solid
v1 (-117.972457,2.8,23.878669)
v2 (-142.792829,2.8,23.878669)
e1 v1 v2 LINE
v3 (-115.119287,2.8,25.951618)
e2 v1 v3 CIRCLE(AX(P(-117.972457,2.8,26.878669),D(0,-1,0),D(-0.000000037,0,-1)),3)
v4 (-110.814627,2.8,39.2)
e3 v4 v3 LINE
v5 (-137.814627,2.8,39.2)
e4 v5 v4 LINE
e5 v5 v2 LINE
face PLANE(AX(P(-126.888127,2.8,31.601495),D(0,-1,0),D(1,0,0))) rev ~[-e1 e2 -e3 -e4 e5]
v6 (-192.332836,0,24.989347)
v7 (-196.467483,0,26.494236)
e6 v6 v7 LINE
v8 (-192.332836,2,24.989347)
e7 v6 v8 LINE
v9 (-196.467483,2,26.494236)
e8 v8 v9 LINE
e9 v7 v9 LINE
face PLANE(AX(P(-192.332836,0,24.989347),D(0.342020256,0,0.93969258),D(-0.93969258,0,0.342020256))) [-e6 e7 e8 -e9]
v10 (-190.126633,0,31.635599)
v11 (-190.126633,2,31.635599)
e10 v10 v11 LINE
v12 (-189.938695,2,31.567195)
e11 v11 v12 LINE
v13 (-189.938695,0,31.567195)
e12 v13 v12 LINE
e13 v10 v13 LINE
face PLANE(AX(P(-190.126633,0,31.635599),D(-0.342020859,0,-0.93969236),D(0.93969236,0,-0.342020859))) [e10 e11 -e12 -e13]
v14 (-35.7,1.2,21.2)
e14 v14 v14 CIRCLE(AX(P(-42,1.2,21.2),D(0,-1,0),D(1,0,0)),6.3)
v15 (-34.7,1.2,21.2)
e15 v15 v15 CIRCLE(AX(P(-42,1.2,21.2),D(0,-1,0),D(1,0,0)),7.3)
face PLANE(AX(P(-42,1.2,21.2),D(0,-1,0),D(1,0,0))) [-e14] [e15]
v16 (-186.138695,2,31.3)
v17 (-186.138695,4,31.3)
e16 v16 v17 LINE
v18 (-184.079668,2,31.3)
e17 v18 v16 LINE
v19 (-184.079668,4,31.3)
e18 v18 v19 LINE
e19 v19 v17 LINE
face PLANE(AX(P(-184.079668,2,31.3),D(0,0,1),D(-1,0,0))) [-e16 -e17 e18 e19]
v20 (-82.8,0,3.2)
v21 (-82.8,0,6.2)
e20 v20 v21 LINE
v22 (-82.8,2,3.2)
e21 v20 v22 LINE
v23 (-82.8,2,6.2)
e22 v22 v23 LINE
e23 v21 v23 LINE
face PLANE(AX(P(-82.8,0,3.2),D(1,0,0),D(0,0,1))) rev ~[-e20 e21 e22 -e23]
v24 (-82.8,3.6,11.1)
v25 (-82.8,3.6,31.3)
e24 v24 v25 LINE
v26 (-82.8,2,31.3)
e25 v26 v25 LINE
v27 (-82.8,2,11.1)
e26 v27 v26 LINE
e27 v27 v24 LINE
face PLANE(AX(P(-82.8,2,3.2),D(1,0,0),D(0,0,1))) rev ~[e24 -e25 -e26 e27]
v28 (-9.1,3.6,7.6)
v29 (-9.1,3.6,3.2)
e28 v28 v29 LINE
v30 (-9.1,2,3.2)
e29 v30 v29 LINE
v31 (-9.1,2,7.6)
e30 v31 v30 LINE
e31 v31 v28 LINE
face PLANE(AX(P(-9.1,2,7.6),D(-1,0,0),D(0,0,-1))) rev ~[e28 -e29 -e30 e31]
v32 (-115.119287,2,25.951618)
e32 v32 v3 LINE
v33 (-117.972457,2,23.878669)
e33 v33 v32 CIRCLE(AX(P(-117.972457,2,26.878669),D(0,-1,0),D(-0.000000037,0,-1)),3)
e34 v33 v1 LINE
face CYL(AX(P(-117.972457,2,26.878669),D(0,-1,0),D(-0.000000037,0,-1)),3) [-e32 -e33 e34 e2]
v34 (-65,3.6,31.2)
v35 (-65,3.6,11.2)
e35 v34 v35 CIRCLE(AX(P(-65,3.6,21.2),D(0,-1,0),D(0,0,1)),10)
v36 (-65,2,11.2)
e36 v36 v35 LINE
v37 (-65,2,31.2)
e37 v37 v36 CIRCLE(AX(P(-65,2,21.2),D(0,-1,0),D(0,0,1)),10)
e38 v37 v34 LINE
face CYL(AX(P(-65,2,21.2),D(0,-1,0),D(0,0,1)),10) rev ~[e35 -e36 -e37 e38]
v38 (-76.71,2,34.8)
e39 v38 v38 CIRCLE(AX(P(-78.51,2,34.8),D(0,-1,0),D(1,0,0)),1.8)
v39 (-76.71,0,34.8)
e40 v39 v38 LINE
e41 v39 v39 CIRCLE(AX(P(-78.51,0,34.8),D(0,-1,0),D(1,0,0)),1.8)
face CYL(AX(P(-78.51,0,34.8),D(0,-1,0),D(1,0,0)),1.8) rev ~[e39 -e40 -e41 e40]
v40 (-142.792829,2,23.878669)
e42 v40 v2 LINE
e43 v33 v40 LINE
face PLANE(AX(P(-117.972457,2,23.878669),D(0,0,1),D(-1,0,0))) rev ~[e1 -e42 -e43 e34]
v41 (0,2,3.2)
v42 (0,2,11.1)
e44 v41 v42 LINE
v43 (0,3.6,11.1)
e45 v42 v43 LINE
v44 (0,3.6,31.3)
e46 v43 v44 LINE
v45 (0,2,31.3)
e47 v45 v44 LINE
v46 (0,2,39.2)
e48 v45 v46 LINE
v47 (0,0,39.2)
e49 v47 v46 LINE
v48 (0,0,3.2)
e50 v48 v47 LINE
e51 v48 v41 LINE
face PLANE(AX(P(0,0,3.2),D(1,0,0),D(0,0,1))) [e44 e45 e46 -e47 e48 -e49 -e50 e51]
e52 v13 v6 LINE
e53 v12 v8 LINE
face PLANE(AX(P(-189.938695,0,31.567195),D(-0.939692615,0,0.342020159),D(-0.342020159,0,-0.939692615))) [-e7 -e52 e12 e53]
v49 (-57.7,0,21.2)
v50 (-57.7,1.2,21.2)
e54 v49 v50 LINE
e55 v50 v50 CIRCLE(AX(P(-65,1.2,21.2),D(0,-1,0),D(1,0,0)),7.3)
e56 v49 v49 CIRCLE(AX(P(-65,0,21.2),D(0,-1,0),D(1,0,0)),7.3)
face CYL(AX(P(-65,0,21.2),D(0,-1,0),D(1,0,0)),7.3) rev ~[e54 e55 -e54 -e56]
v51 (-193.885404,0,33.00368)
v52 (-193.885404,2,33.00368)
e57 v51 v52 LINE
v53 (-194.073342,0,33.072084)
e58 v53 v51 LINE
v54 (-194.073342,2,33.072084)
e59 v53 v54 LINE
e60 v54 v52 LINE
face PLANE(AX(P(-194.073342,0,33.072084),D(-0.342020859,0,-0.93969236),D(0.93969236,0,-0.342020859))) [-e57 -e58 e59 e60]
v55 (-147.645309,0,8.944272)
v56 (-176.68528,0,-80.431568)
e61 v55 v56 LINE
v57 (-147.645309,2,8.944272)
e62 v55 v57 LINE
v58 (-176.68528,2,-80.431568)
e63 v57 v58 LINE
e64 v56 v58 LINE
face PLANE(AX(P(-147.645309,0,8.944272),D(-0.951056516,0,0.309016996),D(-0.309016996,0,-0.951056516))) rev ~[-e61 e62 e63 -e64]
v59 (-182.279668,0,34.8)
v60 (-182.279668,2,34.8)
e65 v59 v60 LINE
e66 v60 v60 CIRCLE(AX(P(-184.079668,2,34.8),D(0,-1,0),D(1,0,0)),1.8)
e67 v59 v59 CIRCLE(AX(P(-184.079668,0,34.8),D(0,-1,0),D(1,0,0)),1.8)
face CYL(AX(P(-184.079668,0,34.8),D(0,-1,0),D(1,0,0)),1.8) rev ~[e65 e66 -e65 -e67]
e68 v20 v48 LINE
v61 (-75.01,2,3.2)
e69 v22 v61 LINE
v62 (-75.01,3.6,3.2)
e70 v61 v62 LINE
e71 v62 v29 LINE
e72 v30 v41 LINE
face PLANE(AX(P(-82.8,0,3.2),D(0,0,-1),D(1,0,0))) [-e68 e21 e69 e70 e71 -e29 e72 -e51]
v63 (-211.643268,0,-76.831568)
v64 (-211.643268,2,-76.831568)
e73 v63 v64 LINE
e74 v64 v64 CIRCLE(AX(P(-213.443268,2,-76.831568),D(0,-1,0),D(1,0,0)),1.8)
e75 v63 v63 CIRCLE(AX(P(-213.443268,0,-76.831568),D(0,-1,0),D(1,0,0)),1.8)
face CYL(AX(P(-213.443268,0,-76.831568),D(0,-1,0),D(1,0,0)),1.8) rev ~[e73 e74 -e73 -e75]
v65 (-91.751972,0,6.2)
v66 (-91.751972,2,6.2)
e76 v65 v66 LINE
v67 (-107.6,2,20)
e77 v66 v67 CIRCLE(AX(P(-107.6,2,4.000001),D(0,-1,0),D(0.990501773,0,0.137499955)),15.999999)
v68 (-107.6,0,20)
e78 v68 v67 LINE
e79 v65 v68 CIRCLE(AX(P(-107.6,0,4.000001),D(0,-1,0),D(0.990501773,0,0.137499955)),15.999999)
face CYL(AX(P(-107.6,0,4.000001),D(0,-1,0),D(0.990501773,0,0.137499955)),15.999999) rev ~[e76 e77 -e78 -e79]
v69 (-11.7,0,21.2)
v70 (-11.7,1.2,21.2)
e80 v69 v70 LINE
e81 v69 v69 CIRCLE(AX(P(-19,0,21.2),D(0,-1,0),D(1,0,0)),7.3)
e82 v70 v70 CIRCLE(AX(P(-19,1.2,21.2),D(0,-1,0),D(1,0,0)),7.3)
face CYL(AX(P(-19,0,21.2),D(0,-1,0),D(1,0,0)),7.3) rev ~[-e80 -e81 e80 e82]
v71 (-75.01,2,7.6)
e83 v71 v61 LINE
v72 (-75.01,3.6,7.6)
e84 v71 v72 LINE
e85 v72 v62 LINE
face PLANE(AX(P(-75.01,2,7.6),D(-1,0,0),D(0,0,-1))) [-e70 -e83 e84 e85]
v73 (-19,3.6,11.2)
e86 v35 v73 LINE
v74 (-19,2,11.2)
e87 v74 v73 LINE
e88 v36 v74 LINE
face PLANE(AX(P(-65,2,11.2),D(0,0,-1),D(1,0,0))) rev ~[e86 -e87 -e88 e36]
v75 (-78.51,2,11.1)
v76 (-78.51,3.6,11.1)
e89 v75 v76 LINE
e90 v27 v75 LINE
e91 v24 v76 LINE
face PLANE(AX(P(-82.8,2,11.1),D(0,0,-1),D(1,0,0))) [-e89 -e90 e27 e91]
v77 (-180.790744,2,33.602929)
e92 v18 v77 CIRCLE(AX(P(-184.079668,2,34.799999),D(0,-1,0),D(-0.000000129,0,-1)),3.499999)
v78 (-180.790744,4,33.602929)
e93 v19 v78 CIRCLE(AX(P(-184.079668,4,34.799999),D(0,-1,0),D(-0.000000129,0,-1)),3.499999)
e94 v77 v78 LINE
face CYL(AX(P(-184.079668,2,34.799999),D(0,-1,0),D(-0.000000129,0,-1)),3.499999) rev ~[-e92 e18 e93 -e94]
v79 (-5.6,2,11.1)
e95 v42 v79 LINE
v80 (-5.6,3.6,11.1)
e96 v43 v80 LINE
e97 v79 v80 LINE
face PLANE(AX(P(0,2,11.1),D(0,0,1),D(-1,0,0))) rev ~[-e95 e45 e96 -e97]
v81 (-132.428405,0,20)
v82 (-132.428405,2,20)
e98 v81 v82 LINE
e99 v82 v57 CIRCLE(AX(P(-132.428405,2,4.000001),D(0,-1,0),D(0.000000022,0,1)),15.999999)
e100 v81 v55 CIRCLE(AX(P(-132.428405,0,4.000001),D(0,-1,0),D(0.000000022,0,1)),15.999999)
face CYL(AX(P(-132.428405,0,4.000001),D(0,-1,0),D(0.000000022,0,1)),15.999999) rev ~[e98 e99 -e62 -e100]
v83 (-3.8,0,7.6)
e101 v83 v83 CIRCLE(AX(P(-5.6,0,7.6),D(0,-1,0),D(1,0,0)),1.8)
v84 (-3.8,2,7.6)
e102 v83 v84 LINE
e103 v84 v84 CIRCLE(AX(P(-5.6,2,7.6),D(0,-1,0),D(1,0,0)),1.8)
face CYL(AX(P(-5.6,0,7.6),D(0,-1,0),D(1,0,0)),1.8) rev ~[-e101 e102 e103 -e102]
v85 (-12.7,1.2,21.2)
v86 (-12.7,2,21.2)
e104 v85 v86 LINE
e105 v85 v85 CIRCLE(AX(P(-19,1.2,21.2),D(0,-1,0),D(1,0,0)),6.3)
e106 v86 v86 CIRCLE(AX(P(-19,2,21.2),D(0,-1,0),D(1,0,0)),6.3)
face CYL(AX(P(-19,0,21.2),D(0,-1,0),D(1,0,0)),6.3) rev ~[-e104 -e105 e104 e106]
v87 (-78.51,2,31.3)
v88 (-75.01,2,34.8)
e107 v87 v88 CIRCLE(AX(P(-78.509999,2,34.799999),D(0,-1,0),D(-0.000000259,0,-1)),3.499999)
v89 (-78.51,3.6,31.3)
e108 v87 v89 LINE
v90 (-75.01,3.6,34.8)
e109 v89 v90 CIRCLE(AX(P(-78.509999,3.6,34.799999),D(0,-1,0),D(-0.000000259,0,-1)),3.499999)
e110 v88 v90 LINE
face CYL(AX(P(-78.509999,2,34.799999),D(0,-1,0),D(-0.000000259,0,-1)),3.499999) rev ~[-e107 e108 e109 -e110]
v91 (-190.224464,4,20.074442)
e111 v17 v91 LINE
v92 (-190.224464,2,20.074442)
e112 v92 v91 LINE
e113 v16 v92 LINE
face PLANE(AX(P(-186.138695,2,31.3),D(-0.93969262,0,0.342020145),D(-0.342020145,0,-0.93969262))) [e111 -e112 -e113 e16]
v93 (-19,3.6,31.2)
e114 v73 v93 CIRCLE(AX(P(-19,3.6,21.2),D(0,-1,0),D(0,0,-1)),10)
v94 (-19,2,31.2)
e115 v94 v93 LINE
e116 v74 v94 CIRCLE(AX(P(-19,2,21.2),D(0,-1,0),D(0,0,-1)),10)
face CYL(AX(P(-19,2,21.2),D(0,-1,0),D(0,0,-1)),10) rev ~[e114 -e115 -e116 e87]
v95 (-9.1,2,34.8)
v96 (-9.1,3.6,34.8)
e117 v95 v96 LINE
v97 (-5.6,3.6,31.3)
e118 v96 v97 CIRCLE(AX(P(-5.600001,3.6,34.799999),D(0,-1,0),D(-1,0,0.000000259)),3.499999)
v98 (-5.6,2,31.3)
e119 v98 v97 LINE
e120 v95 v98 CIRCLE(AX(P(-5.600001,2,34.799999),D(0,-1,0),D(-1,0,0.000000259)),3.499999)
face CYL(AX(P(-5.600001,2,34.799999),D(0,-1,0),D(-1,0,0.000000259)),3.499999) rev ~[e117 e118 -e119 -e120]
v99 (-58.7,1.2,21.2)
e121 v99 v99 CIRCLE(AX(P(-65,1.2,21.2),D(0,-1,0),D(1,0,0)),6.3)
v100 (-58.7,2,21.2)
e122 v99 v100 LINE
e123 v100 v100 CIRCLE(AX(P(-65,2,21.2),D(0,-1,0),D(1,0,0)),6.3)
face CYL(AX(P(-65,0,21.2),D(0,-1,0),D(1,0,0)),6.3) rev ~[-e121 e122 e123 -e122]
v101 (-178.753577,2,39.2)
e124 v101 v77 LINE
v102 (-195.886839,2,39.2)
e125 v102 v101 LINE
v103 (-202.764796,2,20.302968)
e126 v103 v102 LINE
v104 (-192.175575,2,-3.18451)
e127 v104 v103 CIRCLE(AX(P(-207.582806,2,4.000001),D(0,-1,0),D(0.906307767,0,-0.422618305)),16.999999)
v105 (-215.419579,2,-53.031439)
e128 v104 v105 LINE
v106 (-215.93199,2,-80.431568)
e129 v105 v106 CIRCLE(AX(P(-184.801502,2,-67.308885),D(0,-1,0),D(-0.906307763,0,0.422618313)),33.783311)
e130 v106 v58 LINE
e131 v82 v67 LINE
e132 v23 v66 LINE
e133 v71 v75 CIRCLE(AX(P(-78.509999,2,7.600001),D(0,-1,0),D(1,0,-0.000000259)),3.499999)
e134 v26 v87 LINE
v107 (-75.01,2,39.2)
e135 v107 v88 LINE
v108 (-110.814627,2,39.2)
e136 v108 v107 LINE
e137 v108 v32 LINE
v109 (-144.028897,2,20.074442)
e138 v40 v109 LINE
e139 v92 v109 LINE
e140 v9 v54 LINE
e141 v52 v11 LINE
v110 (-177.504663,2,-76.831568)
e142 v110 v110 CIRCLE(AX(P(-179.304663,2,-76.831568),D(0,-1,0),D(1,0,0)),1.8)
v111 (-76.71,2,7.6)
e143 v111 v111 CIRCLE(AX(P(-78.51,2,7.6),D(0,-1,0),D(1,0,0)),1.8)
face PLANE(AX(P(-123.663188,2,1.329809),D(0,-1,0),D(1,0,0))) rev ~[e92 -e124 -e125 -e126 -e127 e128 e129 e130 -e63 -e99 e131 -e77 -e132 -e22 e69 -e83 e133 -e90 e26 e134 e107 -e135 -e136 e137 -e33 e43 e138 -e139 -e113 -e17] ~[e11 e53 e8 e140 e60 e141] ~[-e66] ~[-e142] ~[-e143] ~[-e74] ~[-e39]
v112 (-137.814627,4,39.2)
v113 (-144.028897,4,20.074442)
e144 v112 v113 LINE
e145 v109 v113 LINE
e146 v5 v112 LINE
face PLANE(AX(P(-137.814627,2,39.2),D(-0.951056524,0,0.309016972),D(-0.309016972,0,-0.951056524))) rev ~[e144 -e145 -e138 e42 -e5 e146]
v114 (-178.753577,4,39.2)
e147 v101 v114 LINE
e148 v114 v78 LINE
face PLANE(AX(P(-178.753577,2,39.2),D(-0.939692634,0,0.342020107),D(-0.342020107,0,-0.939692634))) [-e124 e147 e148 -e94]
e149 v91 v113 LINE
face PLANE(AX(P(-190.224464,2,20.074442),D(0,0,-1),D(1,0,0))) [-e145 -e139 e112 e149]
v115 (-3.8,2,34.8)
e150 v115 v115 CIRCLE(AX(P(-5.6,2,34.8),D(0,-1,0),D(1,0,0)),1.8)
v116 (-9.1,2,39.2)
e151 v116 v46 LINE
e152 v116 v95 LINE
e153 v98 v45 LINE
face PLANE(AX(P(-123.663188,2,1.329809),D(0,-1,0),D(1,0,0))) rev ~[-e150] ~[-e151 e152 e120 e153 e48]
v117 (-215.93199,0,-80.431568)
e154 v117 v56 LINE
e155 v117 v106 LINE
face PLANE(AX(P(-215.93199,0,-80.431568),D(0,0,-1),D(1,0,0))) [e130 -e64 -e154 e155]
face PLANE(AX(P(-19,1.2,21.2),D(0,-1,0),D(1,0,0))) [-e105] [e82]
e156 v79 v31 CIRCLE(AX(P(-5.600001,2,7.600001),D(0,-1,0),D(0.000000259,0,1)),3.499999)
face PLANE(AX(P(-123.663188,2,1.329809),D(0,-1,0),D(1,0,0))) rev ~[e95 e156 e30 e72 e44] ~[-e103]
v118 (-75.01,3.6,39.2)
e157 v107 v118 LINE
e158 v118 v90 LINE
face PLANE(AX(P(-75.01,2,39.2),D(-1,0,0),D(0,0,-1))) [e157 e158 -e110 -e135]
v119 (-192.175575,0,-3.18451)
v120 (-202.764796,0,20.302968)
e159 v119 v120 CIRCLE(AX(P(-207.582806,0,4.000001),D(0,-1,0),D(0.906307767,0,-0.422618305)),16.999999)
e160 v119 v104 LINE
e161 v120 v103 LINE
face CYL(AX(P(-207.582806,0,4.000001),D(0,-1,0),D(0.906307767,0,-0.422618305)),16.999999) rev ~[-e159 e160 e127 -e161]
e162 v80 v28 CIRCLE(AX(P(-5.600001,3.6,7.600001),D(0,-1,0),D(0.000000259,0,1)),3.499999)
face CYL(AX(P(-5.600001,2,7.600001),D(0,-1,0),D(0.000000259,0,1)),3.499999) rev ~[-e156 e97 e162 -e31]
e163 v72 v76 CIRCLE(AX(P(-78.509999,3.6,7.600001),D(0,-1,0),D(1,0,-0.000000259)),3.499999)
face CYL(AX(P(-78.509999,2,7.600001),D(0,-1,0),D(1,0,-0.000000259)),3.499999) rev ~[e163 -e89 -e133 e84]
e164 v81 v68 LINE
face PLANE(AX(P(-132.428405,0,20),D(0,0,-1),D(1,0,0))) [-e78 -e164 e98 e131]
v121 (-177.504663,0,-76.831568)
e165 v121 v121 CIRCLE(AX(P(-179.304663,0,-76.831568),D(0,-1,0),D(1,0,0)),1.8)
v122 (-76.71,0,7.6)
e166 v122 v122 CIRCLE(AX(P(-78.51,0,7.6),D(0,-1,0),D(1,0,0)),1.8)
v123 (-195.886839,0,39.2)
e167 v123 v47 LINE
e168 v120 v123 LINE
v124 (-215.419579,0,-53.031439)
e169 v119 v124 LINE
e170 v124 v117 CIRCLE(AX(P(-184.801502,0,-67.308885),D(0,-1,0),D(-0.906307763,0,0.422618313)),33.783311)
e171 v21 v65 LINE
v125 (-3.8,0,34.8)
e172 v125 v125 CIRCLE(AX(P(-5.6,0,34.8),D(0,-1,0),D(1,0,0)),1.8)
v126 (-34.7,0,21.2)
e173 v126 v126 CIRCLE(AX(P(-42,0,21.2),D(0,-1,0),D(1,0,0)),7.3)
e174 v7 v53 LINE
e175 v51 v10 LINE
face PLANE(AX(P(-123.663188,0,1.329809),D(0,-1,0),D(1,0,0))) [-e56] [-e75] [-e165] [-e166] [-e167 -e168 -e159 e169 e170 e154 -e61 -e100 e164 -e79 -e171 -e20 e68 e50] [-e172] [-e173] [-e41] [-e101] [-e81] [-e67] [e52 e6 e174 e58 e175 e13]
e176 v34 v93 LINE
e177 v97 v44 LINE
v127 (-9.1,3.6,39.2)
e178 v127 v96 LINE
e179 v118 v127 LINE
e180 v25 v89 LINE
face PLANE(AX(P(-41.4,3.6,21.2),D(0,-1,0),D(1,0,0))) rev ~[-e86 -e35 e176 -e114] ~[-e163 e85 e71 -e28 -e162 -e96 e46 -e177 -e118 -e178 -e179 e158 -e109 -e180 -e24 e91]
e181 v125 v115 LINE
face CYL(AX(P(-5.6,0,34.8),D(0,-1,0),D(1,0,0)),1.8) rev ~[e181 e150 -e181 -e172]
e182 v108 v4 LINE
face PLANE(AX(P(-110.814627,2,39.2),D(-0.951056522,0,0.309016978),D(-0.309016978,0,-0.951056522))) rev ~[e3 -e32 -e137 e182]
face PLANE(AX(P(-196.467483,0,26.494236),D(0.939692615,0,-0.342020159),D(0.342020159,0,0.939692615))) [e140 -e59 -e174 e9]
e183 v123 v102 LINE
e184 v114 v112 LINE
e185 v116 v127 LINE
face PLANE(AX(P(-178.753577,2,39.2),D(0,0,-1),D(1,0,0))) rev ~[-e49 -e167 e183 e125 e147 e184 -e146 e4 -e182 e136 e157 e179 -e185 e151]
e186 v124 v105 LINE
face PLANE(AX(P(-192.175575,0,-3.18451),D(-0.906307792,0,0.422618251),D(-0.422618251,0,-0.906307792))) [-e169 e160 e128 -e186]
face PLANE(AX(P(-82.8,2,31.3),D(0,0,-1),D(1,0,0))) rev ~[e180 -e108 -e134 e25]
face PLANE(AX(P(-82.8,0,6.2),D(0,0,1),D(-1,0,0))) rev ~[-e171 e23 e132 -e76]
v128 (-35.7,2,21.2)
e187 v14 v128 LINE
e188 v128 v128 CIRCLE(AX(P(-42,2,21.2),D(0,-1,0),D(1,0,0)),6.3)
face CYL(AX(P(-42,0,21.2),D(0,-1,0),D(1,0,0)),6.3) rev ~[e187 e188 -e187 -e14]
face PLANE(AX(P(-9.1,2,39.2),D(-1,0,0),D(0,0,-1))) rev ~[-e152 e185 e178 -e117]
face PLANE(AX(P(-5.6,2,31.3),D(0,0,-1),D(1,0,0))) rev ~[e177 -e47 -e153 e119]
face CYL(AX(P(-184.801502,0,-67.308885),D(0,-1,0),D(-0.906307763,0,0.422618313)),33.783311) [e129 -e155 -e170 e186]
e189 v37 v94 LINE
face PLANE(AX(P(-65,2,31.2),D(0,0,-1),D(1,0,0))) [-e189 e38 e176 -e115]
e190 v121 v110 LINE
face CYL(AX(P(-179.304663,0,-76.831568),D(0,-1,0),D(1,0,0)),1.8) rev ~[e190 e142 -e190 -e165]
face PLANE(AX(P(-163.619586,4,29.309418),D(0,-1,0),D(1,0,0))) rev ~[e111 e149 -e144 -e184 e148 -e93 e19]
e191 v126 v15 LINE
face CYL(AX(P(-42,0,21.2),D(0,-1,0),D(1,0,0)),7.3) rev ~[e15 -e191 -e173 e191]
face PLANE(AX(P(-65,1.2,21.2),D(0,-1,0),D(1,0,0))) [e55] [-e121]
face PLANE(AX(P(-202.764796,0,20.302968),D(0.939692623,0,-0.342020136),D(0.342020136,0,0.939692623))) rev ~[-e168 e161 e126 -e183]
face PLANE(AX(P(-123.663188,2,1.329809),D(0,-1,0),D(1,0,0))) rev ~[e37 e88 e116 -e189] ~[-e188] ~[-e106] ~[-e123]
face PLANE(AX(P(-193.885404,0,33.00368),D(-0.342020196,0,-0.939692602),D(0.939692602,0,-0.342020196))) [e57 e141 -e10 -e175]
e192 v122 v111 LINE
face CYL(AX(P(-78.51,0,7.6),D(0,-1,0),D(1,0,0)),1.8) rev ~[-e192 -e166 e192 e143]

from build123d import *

# Parameters (mm, degrees)
EXTRUDE086_DEPTH = 0.8
EXTRUDE087_DEPTH = 2
SKETCH084_R      = 1.8
EXTRUDE084_DEPTH = 1.6
SKETCH082_W      = 82.8
SKETCH082_H      = 36
SKETCH082_R      = 1.8
EXTRUDE082_DEPTH = 1.6
SKETCH076_R      = 7.3
EXTRUDE077_DEPTH = 1.2
SKETCH074_R      = 1.8
SKETCH074_R_2    = 6.3
EXTRUDE076_DEPTH = 2


with BuildPart() as extrude_lato_sx_pistola_rialzo_centrale:
    # Sketch086 → Extrude086 (new body)
    with BuildSketch(Plane(origin=(0, 0, 2), x_dir=(1, 0, 0), z_dir=(0, -1, 0))):
        with BuildLine():
            Line((-137.814627, 37.2), (-142.792829, 21.878669))
            Line((-117.972457, 21.878669), (-142.792829, 21.878669))
            ThreePointArc((-117.972457, 21.878669), (-116.209101, 22.451618), (-115.119287, 23.951618))
            Line((-110.814627, 37.2), (-115.119287, 23.951618))
            Line((-137.814627, 37.2), (-110.814627, 37.2))
        make_face()
    extrude(amount=-EXTRUDE086_DEPTH)


with BuildPart() as extrude_lato_sx_pistola_rialzo_centrale_1:
    # Extrude086 placement: moved
    add(extrude_lato_sx_pistola_rialzo_centrale.part.moved(Location((0, 2, 0))))


with BuildPart() as extrude087:
    # Sketch087 → Extrude087 (new body)
    with BuildSketch(Plane.XZ):
        with BuildLine():
            Line((-181.329747, 20.074442), (-144.028897, 20.074442))
            Line((-137.814627, 39.2), (-144.028897, 20.074442))
            Line((-178.753577, 39.2), (-137.814627, 39.2))
            Line((-178.753577, 39.2), (-180.790744, 33.602929))
            ThreePointArc((-184.079668, 31.3), (-182.07215, 31.932968), (-180.790744, 33.602929))
            Line((-184.079668, 31.3), (-186.138695, 31.3))
            Line((-186.138695, 31.3), (-190.224464, 20.074442))
            Line((-181.329747, 20.074442), (-190.224464, 20.074442))
        make_face()
    extrude(amount=-EXTRUDE087_DEPTH)


with BuildPart() as extrude087_1:
    # Extrude087 placement: moved
    add(extrude087.part.moved(Location((0, 2, 0))))


with BuildPart() as extrude084:
    # Sketch084 → Extrude084 (new body)
    with BuildSketch(Plane.XZ):
        with BuildLine():
            ThreePointArc((-78.51, 31.3), (-76.035126, 32.325126), (-75.01, 34.8))
            Line((-75.01, 39.2), (-75.01, 34.8))
            Line((-82.8, 39.2), (-75.01, 39.2))
            Line((-82.8, 31.3), (-82.8, 39.2))
            Line((-82.8, 31.3), (-78.51, 31.3))
        make_face()
        with Locations((-78.51, 34.8)):
            Circle(SKETCH084_R, mode=Mode.SUBTRACT)
        with BuildLine():
            ThreePointArc((-9.1, 34.8), (-8.074874, 32.325126), (-5.6, 31.3))
            Line((-5.6, 31.3), (0, 31.3))
            Line((0, 39.2), (0, 31.3))
            Line((-9.1, 39.2), (0, 39.2))
            Line((-9.1, 39.2), (-9.1, 34.8))
        make_face()
        with Locations((-5.6, 34.8)):
            Circle(SKETCH084_R, mode=Mode.SUBTRACT)
        with BuildLine():
            ThreePointArc((-75.01, 7.6), (-76.035126, 10.074874), (-78.51, 11.1))
            Line((-82.8, 11.1), (-78.51, 11.1))
            Line((-82.8, 3.2), (-82.8, 11.1))
            Line((-75.01, 3.2), (-82.8, 3.2))
            Line((-75.01, 7.6), (-75.01, 3.2))
        make_face()
        with Locations((-78.51, 7.6)):
            Circle(SKETCH084_R, mode=Mode.SUBTRACT)
        with BuildLine():
            ThreePointArc((-5.6, 11.1), (-8.074874, 10.074874), (-9.1, 7.6))
            Line((-9.1, 7.6), (-9.1, 3.2))
            Line((0, 3.2), (-9.1, 3.2))
            Line((0, 11.1), (0, 3.2))
            Line((0, 11.1), (-5.6, 11.1))
        make_face()
        with Locations((-5.6, 7.6)):
            Circle(SKETCH084_R, mode=Mode.SUBTRACT)
    extrude(amount=-EXTRUDE084_DEPTH)


with BuildPart() as extrude084_1:
    # Extrude084 placement: moved
    add(extrude084.part.moved(Location((0, 2, 0))))


with BuildPart() as cut047:
    # Sketch082 → Extrude082 (new body)
    with BuildSketch(Plane.XZ):
        with Locations((-41.4, 21.2)):
            Rectangle(SKETCH082_W, SKETCH082_H)
        with Locations((-78.51, 34.8)):
            Circle(SKETCH082_R, mode=Mode.SUBTRACT)
        with Locations((-5.6, 34.8)):
            Circle(SKETCH082_R, mode=Mode.SUBTRACT)
        with Locations((-5.6, 7.6)):
            Circle(SKETCH082_R, mode=Mode.SUBTRACT)
        with Locations((-78.51, 7.6)):
            Circle(SKETCH082_R, mode=Mode.SUBTRACT)
        with BuildLine():
            ThreePointArc((-65, 31.2), (-75, 21.2), (-65, 11.2))
            Line((-65, 11.2), (-19, 11.2))
            ThreePointArc((-19, 11.2), (-9, 21.2), (-19, 31.2))
            Line((-65, 31.2), (-19, 31.2))
        make_face(mode=Mode.SUBTRACT)
    extrude(amount=-EXTRUDE082_DEPTH)


with BuildPart() as cut047_1:
    # Extrude082 placement: moved
    add(cut047.part.moved(Location((0, 2, 0))))

    # Cut047: cut Extrude084
    add(extrude084_1.part, mode=Mode.SUBTRACT)


with BuildPart() as extrude_lato_sx_pistola_scavi_pulsanti:
    # Sketch076 → Extrude077 (new body)
    with BuildSketch(Plane.XZ):
        with Locations((-65, 21.2)):
            Circle(SKETCH076_R)
        with Locations((-42, 21.2)):
            Circle(SKETCH076_R)
        with Locations((-19, 21.2)):
            Circle(SKETCH076_R)
    extrude(amount=-EXTRUDE077_DEPTH)


with BuildPart() as fusion007:
    # Sketch074 → Extrude076 (new body)
    with BuildSketch(Plane.XZ):
        with BuildLine():
            Line((-82.8, 3.2), (0, 3.2))
            Line((0, 3.2), (0, 39.2))
            Line((-195.886839, 39.2), (0, 39.2))
            Line((-202.764796, 20.302968), (-195.886839, 39.2))
            ThreePointArc((-192.175575, -3.18451), (-192.085048, 10.987093), (-202.764796, 20.302968))
            Line((-192.175575, -3.18451), (-215.419579, -53.031439))
            ThreePointArc((-215.419579, -53.031439), (-218.578907, -66.677212), (-215.93199, -80.431568))
            Line((-215.93199, -80.431568), (-176.68528, -80.431568))
            Line((-147.645309, 8.944272), (-176.68528, -80.431568))
            ThreePointArc((-132.428405, 20), (-141.832969, 16.944272), (-147.645309, 8.944272))
            Line((-132.428405, 20), (-107.6, 20))
            ThreePointArc((-91.751972, 6.2), (-97.09286, 16.066483), (-107.6, 20))
            Line((-82.8, 6.2), (-91.751972, 6.2))
            Line((-82.8, 3.2), (-82.8, 6.2))
        make_face()
        with Locations((-213.443268, -76.831568)):
            Circle(SKETCH074_R, mode=Mode.SUBTRACT)
        with Locations((-179.304663, -76.831568)):
            Circle(SKETCH074_R, mode=Mode.SUBTRACT)
        with Locations((-184.079668, 34.8)):
            Circle(SKETCH074_R, mode=Mode.SUBTRACT)
        with Locations((-78.51, 34.8)):
            Circle(SKETCH074_R, mode=Mode.SUBTRACT)
        with Locations((-78.51, 7.6)):
            Circle(SKETCH074_R, mode=Mode.SUBTRACT)
        with Locations((-5.6, 34.8)):
            Circle(SKETCH074_R, mode=Mode.SUBTRACT)
        with Locations((-5.6, 7.6)):
            Circle(SKETCH074_R, mode=Mode.SUBTRACT)
        with Locations((-19, 21.2)):
            Circle(SKETCH074_R_2, mode=Mode.SUBTRACT)
        with Locations((-42, 21.2)):
            Circle(SKETCH074_R_2, mode=Mode.SUBTRACT)
        with Locations((-65, 21.2)):
            Circle(SKETCH074_R_2, mode=Mode.SUBTRACT)
        Polygon((-189.938695, 31.567195), (-192.332836, 24.989347), (-196.467483, 26.494236), (-194.073342, 33.072084), (-193.885404, 33.00368), (-190.126633, 31.635599), align=None, mode=Mode.SUBTRACT)
    extrude(amount=-EXTRUDE076_DEPTH)

    # Cut044: cut Extrude lato sx pistola - scavi pulsanti
    add(extrude_lato_sx_pistola_scavi_pulsanti.part, mode=Mode.SUBTRACT)

    # Fusion005: union Cut047
    add(cut047_1.part)

    # Fusion007: union Extrude lato sx pistola - rialzo centrale, Extrude087
    add(extrude_lato_sx_pistola_rialzo_centrale_1.part)
    add(extrude087_1.part)


solid = fusion007.part
